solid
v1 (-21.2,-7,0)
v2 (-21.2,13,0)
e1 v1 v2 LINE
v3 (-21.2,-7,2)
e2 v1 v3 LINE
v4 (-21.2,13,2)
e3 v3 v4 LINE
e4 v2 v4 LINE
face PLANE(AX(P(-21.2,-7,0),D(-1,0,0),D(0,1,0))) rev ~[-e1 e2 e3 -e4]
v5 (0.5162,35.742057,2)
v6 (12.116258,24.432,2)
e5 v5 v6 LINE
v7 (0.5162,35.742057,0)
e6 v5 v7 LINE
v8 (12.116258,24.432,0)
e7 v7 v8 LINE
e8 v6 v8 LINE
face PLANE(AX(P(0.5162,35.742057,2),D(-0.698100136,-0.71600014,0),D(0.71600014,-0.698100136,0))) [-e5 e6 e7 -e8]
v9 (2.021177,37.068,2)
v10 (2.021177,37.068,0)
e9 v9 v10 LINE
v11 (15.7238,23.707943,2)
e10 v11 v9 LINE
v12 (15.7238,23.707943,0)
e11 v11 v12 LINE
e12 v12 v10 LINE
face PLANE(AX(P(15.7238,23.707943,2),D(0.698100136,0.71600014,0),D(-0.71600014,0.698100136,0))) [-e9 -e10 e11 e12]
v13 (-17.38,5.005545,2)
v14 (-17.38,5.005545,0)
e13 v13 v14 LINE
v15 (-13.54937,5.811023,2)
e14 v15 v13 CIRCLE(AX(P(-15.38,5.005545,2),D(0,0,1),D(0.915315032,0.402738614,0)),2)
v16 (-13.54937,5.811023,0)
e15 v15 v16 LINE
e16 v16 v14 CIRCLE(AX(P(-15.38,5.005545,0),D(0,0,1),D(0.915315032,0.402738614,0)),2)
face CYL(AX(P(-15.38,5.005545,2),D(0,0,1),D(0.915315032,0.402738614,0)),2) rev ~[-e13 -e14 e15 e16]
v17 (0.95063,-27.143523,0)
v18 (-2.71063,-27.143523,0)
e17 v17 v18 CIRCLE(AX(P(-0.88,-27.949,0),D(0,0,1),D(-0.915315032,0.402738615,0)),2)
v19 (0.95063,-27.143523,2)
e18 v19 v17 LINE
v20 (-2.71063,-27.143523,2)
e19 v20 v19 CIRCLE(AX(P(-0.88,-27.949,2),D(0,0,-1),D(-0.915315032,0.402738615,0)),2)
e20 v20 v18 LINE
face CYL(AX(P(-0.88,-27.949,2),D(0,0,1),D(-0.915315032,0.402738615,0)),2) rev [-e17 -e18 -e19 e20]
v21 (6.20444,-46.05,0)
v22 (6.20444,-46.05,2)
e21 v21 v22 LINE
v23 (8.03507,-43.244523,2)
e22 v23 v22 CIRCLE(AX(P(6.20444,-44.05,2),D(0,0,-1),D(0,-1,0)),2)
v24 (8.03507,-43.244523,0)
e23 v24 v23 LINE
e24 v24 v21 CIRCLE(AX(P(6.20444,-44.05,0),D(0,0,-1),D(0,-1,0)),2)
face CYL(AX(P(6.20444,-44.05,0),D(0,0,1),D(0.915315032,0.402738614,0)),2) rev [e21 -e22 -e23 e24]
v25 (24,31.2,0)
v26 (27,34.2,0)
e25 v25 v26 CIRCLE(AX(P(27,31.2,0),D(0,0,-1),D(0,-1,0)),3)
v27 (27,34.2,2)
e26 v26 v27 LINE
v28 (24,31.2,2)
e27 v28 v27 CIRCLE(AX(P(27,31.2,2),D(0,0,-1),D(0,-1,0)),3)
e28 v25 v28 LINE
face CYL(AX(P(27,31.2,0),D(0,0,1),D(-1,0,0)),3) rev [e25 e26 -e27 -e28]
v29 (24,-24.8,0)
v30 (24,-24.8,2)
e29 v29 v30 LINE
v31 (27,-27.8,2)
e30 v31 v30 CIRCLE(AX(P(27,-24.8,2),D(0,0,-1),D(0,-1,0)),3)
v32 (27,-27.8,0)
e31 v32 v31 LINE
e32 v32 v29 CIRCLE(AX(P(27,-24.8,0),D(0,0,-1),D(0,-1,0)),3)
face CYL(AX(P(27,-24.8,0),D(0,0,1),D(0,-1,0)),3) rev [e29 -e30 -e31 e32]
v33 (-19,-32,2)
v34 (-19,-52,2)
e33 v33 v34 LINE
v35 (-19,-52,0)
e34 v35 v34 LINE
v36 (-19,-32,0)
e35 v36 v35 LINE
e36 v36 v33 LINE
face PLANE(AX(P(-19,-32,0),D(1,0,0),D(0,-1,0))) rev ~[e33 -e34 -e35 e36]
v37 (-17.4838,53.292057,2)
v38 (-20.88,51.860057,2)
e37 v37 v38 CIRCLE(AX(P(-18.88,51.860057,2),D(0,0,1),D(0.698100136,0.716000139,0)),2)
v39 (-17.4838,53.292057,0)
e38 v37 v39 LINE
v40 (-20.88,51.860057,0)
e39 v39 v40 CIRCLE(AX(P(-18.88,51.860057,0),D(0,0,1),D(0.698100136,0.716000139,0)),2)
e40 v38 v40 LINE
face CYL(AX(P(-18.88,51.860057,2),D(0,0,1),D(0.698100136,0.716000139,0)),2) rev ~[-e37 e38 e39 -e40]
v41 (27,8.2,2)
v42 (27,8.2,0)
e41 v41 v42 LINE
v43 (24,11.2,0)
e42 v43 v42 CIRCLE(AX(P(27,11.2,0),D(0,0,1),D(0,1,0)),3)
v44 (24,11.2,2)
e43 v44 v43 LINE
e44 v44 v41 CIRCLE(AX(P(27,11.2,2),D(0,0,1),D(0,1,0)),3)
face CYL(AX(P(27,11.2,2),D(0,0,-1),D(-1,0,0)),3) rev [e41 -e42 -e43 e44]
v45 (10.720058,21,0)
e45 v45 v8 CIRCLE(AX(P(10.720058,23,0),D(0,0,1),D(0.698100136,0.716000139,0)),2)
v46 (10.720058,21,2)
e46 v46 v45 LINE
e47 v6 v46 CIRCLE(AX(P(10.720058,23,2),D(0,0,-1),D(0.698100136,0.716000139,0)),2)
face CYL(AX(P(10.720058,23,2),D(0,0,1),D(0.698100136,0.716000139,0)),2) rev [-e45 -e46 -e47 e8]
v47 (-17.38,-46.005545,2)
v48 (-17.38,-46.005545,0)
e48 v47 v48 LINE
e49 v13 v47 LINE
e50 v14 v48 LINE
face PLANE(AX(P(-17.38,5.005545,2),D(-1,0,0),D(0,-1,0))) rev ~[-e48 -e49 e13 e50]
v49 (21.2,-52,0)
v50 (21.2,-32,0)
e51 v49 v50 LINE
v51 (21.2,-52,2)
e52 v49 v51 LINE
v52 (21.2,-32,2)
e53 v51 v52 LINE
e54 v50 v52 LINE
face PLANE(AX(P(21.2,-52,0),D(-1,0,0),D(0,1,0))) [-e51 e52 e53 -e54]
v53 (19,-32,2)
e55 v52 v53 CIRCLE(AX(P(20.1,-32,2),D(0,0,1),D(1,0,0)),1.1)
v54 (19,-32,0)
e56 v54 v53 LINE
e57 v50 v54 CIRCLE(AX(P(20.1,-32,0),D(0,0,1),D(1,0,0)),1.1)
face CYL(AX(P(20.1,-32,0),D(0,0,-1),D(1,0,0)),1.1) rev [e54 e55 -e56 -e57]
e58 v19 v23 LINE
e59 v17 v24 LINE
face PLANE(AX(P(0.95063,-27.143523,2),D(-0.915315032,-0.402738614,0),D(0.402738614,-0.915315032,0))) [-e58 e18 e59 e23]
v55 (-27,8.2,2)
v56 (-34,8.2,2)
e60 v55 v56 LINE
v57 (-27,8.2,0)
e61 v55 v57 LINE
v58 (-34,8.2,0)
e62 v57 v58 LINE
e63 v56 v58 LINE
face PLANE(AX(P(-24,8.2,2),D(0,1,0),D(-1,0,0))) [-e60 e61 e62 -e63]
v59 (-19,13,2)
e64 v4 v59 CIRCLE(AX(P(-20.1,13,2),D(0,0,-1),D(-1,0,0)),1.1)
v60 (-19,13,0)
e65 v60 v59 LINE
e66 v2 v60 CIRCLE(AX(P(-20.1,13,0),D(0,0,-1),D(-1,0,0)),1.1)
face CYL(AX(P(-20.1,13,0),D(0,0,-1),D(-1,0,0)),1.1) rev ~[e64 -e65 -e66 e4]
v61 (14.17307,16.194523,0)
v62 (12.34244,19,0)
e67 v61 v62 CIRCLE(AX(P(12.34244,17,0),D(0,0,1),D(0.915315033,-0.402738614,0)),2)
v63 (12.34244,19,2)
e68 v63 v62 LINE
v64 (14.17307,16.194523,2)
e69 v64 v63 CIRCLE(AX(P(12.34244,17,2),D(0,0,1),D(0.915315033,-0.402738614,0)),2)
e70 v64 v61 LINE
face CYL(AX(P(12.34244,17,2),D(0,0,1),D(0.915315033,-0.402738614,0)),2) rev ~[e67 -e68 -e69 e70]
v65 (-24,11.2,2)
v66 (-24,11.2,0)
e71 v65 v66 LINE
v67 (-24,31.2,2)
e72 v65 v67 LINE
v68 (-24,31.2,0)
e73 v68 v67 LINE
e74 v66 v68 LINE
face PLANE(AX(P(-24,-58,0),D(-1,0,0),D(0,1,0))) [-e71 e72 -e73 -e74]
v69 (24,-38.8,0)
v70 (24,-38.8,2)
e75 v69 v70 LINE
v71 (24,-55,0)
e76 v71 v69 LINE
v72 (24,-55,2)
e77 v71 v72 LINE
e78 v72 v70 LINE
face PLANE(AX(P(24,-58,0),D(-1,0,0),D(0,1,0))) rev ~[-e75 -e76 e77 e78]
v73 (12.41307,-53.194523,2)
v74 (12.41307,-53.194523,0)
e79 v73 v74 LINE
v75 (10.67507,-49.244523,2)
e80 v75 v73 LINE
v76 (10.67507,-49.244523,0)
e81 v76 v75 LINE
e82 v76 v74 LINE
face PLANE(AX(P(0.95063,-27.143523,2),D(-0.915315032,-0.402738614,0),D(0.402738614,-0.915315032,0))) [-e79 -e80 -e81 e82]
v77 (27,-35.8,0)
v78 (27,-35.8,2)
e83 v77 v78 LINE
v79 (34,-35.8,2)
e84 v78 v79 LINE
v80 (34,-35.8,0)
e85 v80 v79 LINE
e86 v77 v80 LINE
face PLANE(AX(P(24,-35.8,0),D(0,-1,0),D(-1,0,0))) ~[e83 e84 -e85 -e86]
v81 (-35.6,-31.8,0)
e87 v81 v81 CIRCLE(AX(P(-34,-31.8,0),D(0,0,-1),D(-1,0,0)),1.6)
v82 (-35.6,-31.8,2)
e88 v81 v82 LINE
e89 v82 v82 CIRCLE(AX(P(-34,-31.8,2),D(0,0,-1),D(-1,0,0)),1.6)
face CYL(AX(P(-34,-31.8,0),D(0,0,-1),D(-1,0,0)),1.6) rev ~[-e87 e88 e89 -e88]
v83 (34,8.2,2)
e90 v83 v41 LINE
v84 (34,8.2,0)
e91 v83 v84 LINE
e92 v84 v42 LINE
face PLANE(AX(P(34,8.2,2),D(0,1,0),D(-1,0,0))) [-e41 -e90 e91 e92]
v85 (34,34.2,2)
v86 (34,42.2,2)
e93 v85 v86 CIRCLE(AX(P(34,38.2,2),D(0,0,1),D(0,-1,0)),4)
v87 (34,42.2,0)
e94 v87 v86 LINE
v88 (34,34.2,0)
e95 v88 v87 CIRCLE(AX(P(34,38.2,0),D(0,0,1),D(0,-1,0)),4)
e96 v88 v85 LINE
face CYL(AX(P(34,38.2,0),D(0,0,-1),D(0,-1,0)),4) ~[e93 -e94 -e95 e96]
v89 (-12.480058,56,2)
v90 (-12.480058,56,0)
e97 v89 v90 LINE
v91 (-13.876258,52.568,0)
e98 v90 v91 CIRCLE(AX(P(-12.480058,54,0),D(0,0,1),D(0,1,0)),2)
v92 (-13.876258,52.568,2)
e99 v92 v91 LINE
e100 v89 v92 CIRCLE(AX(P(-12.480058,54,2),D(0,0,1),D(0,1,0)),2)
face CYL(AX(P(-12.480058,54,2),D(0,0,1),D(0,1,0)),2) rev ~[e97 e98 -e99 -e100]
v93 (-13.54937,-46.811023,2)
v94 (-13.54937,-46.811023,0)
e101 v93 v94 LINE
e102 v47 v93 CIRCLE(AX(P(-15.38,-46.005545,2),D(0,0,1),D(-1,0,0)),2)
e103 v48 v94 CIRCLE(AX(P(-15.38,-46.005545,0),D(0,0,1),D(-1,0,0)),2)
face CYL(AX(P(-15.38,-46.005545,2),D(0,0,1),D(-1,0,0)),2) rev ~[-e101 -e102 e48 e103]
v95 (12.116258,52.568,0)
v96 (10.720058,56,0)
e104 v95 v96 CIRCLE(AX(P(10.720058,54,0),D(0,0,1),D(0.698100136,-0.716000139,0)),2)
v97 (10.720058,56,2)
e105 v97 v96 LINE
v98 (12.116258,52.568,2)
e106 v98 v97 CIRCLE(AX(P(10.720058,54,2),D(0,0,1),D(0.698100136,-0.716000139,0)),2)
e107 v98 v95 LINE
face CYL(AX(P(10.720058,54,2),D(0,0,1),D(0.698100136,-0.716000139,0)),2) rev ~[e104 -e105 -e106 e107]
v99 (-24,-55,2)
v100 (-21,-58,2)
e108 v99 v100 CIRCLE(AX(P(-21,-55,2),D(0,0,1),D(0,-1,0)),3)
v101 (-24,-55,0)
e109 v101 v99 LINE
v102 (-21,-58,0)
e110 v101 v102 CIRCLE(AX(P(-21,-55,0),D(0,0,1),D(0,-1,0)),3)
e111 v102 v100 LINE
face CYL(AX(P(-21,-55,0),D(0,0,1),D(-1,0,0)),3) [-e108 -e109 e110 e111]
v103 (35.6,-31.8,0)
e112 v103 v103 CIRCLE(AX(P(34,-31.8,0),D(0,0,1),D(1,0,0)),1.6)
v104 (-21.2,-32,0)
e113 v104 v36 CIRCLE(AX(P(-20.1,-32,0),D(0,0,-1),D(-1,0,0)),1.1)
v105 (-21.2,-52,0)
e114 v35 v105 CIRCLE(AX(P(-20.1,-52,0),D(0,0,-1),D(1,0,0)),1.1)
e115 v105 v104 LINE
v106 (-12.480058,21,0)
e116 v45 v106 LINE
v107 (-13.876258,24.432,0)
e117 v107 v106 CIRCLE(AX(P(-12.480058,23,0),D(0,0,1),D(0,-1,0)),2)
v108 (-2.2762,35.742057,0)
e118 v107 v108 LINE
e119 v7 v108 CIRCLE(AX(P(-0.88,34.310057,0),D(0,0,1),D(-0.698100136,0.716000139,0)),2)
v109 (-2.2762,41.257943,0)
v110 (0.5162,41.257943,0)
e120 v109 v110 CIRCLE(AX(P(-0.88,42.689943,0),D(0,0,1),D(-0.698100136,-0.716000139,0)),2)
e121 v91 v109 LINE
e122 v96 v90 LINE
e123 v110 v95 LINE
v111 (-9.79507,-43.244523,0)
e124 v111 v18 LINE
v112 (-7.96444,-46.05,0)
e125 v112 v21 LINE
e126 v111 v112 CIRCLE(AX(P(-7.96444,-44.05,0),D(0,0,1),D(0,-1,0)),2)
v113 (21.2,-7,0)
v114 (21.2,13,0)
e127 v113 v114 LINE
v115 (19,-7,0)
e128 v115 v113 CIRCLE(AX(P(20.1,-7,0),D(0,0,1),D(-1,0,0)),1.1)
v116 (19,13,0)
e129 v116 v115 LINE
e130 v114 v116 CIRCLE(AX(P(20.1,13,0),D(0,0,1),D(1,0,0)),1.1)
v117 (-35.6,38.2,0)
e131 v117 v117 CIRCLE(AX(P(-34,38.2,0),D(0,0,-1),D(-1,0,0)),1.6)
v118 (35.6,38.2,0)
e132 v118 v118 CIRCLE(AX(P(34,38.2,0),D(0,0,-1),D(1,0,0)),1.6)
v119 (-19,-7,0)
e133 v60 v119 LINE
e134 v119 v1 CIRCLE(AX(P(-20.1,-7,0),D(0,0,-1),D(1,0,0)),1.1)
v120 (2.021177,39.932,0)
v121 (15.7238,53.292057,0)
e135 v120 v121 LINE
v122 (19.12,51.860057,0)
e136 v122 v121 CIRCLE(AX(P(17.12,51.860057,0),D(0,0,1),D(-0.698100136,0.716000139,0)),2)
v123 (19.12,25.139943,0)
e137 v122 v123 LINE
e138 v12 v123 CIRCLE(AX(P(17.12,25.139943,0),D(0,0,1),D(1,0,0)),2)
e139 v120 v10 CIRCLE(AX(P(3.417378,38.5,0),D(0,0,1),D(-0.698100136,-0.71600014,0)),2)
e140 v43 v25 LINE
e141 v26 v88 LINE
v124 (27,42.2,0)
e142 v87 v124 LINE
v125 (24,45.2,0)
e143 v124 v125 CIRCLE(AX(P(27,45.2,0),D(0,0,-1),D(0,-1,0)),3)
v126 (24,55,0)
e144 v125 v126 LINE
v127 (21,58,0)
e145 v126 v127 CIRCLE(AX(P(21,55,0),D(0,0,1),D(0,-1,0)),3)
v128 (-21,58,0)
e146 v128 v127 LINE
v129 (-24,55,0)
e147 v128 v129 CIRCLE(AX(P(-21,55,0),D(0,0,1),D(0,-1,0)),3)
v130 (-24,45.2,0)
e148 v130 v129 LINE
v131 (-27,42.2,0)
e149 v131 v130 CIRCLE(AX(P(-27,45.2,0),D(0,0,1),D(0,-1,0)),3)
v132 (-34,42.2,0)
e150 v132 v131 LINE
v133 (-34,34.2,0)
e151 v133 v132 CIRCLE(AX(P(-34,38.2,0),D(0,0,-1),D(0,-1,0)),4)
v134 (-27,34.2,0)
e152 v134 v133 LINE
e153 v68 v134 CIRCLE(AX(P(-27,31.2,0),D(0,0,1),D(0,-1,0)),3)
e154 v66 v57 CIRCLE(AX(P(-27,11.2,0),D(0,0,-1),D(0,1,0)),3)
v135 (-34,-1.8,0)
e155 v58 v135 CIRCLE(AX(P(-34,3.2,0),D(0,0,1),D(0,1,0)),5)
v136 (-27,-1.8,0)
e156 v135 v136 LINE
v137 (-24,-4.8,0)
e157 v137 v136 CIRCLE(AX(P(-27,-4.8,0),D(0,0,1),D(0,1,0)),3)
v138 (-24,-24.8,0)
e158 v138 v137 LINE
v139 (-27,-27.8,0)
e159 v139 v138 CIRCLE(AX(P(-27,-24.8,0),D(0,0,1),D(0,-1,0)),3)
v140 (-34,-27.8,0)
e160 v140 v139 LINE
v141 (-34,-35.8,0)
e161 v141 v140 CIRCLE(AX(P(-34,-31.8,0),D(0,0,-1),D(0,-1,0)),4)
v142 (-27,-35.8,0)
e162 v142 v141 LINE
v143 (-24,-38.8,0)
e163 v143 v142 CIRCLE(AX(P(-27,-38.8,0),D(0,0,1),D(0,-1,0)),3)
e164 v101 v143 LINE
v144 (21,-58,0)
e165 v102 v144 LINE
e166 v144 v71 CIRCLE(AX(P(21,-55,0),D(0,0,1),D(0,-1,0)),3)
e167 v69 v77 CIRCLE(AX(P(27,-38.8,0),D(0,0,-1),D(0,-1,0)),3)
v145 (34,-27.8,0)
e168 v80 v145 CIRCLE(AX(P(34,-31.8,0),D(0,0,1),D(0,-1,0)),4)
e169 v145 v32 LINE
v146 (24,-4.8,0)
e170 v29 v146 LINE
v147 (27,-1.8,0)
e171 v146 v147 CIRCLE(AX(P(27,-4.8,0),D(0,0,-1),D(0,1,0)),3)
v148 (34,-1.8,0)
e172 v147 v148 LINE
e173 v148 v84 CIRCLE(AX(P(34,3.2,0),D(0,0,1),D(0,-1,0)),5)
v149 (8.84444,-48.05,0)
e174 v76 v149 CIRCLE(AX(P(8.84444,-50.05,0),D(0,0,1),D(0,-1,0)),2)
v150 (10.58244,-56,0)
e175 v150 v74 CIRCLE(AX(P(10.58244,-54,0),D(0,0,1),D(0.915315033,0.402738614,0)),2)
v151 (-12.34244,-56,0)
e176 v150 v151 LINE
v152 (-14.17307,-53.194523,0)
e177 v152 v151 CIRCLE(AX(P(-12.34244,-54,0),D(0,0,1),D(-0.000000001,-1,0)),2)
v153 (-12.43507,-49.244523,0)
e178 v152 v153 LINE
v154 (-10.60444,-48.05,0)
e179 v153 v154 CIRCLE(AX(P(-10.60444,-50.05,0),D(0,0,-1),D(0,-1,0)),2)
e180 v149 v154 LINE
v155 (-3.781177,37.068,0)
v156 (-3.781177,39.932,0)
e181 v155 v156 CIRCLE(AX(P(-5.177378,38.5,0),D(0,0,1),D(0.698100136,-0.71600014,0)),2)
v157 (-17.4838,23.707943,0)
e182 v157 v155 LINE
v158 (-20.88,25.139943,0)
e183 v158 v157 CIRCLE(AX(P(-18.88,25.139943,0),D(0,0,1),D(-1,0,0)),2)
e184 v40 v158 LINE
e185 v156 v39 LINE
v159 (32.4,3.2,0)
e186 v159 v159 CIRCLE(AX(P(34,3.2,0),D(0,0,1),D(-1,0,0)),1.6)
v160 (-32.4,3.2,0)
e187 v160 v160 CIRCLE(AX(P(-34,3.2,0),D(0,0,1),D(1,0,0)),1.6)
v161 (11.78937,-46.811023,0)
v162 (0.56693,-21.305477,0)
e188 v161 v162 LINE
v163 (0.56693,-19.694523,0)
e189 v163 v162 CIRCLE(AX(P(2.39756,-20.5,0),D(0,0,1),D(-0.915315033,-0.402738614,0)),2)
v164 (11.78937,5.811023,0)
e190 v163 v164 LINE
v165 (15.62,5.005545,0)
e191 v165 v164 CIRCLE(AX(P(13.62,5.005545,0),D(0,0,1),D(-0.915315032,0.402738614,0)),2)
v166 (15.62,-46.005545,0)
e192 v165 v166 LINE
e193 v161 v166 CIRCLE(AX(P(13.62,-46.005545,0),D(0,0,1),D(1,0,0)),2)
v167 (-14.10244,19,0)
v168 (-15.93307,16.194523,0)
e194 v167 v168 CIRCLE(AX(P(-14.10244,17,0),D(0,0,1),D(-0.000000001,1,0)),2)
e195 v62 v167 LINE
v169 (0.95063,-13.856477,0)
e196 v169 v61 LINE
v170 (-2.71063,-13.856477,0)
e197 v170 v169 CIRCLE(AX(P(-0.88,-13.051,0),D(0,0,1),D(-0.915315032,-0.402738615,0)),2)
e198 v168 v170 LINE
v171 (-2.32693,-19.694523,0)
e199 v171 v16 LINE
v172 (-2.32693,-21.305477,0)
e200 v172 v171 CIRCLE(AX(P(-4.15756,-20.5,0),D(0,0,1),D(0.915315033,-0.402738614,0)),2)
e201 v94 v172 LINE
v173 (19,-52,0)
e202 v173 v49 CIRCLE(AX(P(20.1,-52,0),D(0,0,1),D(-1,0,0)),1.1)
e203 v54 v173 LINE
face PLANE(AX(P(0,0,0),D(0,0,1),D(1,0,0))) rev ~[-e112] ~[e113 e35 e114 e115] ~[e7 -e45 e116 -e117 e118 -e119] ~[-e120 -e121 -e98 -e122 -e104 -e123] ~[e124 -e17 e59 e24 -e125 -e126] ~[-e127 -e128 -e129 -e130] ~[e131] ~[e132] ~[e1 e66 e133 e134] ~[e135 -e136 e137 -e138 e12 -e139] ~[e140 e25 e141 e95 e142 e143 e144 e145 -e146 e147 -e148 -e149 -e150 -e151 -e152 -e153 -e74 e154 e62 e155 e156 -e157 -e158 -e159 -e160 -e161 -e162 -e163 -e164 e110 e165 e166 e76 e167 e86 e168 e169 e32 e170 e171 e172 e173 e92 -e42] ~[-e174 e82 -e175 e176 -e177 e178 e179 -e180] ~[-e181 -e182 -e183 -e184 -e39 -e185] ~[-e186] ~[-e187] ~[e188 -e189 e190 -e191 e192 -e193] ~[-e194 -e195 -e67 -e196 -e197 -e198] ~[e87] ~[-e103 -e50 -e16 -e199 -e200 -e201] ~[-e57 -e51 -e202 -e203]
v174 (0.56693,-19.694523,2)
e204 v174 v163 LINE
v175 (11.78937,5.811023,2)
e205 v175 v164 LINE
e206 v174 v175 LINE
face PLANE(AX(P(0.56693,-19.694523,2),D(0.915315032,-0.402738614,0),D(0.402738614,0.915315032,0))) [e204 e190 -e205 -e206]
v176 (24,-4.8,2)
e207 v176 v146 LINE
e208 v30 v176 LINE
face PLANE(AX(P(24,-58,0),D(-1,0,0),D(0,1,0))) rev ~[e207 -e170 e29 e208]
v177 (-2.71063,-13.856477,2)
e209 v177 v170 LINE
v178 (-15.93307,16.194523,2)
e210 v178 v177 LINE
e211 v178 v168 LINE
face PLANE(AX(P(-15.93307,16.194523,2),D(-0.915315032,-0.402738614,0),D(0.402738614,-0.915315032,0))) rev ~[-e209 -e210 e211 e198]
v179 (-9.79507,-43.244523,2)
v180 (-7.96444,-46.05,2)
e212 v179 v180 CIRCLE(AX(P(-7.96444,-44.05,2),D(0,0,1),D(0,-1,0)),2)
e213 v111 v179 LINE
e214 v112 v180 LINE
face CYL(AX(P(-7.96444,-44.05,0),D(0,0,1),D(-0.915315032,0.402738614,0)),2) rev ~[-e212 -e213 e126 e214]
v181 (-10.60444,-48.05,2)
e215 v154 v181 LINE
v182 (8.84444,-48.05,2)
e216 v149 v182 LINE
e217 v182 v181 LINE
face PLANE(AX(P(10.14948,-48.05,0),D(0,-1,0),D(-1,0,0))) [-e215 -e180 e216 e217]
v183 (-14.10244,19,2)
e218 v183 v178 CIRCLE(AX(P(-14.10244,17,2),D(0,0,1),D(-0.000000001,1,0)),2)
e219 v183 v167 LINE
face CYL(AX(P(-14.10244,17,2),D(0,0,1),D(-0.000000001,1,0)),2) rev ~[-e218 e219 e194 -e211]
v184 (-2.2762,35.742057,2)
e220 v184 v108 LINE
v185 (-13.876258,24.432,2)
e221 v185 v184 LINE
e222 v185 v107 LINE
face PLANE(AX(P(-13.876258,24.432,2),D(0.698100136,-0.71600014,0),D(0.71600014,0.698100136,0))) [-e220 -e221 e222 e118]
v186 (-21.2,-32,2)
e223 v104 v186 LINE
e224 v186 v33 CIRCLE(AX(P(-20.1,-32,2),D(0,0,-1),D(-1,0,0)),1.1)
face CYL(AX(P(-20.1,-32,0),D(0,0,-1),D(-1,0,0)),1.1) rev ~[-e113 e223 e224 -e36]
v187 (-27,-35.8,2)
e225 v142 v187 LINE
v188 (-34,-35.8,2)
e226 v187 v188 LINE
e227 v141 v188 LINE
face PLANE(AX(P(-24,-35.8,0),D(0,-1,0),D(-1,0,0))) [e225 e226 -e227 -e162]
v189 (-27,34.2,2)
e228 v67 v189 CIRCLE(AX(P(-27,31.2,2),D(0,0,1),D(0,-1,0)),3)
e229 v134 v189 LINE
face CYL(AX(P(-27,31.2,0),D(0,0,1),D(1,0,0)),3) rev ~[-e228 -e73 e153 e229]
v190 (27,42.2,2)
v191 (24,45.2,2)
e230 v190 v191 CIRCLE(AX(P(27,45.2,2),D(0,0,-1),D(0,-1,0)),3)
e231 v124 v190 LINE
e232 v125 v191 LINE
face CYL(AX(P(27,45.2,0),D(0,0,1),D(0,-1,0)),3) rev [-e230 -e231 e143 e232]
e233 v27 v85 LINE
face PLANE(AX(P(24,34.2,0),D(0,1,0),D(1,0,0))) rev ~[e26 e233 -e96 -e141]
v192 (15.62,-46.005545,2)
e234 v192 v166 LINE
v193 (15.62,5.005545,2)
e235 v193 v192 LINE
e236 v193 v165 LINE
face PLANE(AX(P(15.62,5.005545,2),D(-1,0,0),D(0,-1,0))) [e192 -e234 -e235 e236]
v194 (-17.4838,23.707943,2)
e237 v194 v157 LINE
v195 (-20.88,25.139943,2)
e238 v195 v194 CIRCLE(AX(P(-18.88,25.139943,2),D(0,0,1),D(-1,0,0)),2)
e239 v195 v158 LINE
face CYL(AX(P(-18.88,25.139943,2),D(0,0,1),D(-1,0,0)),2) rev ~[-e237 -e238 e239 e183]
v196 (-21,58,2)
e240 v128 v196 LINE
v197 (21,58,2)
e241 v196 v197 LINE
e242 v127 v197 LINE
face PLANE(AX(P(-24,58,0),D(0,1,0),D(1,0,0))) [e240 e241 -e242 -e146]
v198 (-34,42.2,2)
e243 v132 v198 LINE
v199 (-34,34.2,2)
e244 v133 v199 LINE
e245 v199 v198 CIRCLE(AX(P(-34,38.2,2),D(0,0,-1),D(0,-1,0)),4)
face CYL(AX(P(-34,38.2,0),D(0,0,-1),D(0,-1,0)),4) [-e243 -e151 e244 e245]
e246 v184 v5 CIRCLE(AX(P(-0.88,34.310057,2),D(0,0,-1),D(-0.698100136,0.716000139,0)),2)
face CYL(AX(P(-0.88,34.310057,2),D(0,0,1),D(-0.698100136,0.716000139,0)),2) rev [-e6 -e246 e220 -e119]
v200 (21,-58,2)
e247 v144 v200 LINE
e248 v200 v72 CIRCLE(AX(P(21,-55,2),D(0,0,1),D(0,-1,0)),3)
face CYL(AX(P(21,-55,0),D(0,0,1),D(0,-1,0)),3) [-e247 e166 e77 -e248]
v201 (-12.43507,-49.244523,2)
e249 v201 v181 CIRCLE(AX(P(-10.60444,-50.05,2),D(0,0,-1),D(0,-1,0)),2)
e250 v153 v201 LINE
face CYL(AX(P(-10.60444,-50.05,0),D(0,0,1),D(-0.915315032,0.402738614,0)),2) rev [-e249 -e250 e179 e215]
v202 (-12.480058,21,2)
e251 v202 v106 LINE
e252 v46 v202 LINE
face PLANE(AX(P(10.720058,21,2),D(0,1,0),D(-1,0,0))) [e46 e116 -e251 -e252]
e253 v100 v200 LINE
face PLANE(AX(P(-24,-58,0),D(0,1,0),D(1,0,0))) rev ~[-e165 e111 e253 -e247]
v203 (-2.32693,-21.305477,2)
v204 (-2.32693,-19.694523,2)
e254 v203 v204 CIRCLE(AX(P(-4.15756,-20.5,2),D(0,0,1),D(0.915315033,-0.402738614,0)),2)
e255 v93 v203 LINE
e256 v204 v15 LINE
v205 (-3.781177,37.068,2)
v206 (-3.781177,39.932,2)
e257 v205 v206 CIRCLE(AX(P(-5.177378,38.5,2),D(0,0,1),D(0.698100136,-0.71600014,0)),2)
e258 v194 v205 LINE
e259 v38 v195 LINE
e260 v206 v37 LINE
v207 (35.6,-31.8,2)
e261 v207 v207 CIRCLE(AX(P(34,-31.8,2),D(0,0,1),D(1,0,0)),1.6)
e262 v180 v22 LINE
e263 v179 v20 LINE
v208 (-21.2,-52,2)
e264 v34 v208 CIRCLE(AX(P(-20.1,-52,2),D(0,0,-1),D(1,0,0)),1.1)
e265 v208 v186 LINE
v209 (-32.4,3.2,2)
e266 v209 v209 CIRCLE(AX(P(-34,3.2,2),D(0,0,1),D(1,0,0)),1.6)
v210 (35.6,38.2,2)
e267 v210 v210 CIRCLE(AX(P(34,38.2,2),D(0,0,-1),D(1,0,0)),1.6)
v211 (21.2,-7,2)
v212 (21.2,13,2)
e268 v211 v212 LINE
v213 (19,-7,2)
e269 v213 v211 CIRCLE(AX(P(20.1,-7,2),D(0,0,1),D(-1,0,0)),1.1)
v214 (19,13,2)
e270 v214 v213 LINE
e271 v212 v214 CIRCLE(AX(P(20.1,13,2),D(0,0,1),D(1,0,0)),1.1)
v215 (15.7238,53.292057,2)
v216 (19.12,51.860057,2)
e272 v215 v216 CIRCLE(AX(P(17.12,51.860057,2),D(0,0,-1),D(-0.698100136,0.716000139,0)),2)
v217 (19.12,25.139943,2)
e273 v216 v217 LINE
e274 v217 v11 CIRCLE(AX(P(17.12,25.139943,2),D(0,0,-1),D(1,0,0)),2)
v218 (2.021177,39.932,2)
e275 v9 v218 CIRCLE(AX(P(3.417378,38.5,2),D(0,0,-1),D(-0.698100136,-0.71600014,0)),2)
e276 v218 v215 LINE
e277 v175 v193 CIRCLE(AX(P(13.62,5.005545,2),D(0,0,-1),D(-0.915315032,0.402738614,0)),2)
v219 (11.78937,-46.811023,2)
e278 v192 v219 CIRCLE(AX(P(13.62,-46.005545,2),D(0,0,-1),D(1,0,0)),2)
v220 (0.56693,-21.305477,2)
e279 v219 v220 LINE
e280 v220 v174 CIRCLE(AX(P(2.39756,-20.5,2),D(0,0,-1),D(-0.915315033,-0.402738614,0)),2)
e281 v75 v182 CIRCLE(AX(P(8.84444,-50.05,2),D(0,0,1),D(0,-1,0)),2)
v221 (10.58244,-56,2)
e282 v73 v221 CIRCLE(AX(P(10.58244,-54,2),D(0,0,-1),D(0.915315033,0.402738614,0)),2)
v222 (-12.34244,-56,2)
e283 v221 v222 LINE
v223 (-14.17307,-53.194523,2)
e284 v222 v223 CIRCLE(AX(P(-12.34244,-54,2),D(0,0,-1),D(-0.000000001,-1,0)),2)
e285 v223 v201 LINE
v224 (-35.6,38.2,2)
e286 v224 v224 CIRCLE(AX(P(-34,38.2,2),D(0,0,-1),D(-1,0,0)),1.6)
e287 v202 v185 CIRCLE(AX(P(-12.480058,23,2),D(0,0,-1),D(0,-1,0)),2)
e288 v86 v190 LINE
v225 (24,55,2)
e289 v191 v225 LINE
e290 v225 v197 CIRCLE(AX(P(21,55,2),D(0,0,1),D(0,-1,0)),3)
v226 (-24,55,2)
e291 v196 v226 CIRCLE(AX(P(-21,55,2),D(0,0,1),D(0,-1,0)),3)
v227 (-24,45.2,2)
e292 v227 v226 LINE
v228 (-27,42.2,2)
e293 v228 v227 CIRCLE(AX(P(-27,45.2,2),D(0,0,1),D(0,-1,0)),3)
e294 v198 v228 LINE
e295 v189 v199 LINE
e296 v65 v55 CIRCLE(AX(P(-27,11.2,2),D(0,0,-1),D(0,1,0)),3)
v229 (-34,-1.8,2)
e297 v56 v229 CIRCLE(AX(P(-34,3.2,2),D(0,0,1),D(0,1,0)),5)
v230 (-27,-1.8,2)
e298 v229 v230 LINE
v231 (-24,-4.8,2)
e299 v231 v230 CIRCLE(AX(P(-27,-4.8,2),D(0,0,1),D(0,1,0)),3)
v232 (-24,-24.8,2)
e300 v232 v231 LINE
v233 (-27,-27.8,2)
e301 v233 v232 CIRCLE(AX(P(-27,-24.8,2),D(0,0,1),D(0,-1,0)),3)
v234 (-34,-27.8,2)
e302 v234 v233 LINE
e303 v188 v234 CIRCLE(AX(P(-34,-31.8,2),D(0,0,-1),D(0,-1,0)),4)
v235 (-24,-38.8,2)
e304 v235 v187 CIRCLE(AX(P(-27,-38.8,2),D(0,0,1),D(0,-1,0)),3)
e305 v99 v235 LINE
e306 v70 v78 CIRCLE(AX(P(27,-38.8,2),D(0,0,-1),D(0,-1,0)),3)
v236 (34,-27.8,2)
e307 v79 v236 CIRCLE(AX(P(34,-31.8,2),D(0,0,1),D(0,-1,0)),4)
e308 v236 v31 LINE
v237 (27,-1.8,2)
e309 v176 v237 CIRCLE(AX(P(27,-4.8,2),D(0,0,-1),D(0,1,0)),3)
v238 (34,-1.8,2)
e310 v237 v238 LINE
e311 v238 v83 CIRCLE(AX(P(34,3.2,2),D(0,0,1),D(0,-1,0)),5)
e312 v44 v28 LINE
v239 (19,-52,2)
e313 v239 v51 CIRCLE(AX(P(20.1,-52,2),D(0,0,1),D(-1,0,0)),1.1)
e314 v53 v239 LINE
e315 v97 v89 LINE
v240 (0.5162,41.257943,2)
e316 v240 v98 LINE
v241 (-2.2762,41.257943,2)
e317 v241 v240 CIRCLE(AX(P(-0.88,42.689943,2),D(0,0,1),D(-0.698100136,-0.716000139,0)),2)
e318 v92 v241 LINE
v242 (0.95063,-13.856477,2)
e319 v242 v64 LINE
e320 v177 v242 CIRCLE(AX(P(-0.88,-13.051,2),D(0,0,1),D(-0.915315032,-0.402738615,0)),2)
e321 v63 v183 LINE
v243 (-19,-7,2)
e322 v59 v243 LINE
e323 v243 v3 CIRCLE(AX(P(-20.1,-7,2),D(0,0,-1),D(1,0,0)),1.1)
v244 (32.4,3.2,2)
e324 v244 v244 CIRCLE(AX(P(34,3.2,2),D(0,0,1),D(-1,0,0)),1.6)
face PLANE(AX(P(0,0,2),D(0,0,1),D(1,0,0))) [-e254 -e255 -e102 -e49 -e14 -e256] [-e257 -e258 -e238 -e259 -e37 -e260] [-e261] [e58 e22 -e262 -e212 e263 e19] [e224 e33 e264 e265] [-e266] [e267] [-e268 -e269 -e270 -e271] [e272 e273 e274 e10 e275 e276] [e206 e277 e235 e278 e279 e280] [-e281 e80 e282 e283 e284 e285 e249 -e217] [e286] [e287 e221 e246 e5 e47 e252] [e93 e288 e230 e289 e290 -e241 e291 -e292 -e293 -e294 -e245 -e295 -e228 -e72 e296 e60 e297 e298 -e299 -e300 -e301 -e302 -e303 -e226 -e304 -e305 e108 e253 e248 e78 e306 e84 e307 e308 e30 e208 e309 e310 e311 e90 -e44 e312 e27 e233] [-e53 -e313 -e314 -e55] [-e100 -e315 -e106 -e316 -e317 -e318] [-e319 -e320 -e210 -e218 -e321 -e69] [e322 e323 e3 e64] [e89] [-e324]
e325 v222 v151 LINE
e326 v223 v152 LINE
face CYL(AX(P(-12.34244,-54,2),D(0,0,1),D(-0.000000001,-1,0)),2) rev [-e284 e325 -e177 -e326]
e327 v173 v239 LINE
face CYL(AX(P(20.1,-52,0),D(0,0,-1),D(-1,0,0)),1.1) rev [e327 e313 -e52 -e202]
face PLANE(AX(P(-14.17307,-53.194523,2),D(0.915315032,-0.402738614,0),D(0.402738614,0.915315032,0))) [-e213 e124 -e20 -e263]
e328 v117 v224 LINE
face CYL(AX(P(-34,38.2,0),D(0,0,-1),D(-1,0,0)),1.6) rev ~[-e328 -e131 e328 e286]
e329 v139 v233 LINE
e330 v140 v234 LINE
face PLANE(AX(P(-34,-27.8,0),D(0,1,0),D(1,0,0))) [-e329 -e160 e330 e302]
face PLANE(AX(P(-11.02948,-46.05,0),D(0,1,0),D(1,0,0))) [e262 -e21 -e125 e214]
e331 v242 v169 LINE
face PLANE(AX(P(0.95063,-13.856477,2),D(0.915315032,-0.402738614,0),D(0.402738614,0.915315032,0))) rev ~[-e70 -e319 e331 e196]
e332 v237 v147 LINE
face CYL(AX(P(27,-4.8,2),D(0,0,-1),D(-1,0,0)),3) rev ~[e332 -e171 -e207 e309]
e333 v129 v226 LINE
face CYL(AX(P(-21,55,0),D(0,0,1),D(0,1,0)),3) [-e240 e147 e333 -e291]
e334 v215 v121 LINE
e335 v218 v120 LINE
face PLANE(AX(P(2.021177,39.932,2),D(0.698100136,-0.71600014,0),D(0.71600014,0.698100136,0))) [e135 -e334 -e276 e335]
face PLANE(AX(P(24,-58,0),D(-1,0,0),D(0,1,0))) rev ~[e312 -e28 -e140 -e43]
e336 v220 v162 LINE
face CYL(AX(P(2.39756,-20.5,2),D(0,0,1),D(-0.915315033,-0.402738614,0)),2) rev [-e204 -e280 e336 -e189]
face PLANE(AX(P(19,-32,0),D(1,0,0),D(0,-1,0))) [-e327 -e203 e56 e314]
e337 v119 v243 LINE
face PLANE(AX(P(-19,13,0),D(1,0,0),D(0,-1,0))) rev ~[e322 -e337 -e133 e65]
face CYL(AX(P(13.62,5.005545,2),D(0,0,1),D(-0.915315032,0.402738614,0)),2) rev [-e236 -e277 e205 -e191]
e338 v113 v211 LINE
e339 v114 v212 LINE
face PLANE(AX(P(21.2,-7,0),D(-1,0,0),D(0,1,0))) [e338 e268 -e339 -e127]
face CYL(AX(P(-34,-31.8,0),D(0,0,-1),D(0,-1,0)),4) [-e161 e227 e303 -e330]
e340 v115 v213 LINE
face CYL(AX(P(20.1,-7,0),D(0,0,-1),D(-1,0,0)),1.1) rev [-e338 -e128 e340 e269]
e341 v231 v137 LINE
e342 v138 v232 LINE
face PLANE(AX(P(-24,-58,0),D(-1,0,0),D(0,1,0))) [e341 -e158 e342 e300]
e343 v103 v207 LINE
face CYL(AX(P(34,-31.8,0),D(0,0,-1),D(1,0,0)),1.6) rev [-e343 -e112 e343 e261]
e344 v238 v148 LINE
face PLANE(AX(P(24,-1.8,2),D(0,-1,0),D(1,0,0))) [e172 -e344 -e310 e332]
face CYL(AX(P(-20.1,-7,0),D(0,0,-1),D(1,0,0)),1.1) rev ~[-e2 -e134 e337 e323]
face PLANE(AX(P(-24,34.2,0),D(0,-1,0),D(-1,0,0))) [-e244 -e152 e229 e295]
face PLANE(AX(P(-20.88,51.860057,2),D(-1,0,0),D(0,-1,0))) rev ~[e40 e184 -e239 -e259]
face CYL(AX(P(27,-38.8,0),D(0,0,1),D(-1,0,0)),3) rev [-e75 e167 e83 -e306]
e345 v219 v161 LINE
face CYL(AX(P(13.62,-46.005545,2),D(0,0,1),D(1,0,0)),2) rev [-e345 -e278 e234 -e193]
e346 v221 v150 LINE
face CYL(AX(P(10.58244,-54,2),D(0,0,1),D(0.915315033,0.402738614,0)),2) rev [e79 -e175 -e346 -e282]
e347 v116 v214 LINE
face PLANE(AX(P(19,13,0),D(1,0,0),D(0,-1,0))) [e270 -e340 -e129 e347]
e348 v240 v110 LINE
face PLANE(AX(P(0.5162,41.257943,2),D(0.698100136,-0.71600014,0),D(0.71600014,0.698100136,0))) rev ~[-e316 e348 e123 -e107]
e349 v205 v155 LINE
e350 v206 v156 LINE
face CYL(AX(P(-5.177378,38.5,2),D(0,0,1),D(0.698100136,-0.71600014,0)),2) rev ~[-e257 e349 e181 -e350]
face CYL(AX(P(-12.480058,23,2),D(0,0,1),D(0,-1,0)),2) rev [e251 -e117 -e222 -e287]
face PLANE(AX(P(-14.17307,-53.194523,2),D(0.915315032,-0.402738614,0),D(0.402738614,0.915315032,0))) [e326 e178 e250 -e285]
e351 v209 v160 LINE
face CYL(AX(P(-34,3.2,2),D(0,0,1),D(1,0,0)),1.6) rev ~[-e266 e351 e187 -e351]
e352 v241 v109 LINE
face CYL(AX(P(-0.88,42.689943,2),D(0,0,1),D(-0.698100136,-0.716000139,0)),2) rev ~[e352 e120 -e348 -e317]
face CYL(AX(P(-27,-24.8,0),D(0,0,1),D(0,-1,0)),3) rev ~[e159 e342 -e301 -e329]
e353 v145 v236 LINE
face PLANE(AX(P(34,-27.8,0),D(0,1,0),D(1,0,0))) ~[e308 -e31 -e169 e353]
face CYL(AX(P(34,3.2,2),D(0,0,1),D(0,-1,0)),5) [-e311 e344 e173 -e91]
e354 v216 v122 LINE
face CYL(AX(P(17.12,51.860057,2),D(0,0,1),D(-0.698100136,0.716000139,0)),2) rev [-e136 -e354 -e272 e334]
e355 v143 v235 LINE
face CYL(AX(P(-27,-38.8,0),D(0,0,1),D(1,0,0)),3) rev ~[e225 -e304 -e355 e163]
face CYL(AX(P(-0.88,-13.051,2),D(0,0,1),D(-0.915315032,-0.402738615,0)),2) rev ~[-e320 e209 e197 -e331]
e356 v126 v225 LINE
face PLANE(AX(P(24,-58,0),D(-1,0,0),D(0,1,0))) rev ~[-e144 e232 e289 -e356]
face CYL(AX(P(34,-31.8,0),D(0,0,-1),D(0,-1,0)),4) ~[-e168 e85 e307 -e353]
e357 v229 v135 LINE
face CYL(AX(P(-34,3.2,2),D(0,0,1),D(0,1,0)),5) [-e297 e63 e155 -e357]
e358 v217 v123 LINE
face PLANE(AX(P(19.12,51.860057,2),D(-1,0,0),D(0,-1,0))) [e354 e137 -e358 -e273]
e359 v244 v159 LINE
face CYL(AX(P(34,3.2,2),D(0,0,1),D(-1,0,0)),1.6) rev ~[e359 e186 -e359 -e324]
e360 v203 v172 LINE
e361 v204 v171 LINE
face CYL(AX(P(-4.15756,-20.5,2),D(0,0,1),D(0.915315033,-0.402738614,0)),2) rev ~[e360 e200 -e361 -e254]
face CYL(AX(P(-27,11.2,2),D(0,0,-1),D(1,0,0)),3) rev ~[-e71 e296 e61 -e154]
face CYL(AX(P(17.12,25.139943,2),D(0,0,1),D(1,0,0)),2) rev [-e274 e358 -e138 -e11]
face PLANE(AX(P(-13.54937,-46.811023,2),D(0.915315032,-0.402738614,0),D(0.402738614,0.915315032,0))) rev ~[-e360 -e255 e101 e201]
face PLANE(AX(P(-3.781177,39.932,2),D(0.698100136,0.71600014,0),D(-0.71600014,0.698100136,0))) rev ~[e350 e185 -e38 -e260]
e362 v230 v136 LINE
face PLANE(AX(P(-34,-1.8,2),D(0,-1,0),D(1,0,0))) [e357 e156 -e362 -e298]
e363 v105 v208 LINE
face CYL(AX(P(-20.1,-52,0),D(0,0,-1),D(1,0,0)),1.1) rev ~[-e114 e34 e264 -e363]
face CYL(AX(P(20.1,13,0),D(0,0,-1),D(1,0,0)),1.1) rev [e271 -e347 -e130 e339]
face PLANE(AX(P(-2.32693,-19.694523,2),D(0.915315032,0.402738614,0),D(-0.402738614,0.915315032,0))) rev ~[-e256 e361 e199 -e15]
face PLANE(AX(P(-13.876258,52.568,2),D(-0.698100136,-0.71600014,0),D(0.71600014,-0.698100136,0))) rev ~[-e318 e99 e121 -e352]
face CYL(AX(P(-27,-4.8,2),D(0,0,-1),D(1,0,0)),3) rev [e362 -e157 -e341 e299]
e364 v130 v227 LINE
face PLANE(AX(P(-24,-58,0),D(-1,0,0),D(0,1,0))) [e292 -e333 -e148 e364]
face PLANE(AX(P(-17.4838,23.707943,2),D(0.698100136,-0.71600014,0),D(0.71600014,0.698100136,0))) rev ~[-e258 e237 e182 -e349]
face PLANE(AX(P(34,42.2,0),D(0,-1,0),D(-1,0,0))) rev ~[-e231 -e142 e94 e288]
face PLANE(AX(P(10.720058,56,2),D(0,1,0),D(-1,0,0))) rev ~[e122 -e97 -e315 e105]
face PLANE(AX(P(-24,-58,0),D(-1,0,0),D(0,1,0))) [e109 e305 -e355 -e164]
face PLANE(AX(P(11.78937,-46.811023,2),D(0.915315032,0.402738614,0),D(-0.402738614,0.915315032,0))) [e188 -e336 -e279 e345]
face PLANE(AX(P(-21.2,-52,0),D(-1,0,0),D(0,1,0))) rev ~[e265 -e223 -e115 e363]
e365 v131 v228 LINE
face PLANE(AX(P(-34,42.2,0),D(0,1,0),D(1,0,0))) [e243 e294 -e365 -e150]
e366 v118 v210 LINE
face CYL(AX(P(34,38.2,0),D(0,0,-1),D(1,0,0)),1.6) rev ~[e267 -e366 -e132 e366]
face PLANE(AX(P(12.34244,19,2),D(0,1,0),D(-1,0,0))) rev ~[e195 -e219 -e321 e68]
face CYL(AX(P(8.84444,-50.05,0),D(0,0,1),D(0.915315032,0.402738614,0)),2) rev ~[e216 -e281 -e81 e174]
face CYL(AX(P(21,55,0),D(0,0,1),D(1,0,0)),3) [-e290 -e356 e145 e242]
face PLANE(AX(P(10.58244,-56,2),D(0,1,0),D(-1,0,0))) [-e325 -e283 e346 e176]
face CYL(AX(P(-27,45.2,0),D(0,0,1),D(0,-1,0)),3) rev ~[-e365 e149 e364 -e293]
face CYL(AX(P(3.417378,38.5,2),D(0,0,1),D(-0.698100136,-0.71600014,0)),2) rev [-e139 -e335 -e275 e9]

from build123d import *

# Parameters (mm, degrees)
SKETCH_1_W               = 48
SKETCH_1_H               = 116
EXTRUDE_1_DEPTH          = 2
CUT_EXTRUDE_1_DEPTH      = 63.801273872
EXTRUDE_4_DEPTH          = 2
FILLET_2_R               = 2
SKETCH_7_R               = 1.6
EXTRUDE_5_DEPTH          = 2
PATTERN_LINEAR_1_COUNT   = 2
PATTERN_LINEAR_1_PITCH   = 70
MIRROR_1_COPY_1_SKETCH_R = 1.6
MIRROR_1_COPY_1_DEPTH    = 2
FILLET_4_R               = 3
FILLET_5_R               = 3
SKETCH_8_R               = 1.6
EXTRUDE_6_DEPTH          = 2
FILLET_6_R               = 3


with BuildPart() as part:
    # 草图1 → 凸台-拉伸1 (new body)
    with BuildSketch(Plane.XY):
        Rectangle(SKETCH_1_W, SKETCH_1_H)
        with BuildLine():
            Line((-19, -32), (-19, -52))
            ThreePointArc((-19, -52), (-20.1, -53.1), (-21.2, -52))
            Line((-21.2, -52), (-21.2, -32))
            ThreePointArc((-21.2, -32), (-20.1, -30.9), (-19, -32))
        make_face(mode=Mode.SUBTRACT)
        with BuildLine():
            Line((19, -32), (19, -52))
            ThreePointArc((19, -52), (20.1, -53.1), (21.2, -52))
            Line((21.2, -52), (21.2, -32))
            ThreePointArc((21.2, -32), (20.1, -30.9), (19, -32))
        make_face(mode=Mode.SUBTRACT)
        with BuildLine():
            Line((-19, 13), (-19, -7))
            ThreePointArc((-19, -7), (-20.1, -8.1), (-21.2, -7))
            Line((-21.2, -7), (-21.2, 13))
            ThreePointArc((-21.2, 13), (-20.1, 14.1), (-19, 13))
        make_face(mode=Mode.SUBTRACT)
        with BuildLine():
            Line((19, 13), (19, -7))
            ThreePointArc((19, -7), (20.1, -8.1), (21.2, -7))
            Line((21.2, -7), (21.2, 13))
            ThreePointArc((21.2, 13), (20.1, 14.1), (19, 13))
        make_face(mode=Mode.SUBTRACT)
    extrude(amount=EXTRUDE_1_DEPTH)

    # 草图3 → 切除-拉伸1 (cut, through all)
    with BuildSketch(Plane.XY.offset(2)):
        with BuildLine():
            Line((12.342439932, 19), (-14.102439932, 19))
            ThreePointArc((-14.102439932, 19), (-15.77739582, 18.092942254), (-15.933069997, 16.194522771))
            Line((-15.933069997, 16.194522771), (-2.710630065, -13.856477074))
            ThreePointArc((-2.710630065, -13.856477074), (-0.88, -15.050999845), (0.950630065, -13.856477074))
            Line((0.950630065, -13.856477074), (14.173069997, 16.194522771))
            ThreePointArc((14.173069997, 16.194522771), (14.01739582, 18.092942254), (12.342439932, 19))
        make_face()
        with BuildLine():
            Line((15.62, 5.0055453), (15.62, -46.0055453))
            ThreePointArc((15.62, -46.0055453), (14.031545787, -47.962744846), (11.789369935, -46.811022528))
            Line((11.789369935, -46.811022528), (0.566930003, -21.305477229))
            ThreePointArc((0.566930003, -21.305477229), (0.397560068, -20.5), (0.566930003, -19.694522771))
            Line((0.566930003, -19.694522771), (11.789369935, 5.811022528))
            ThreePointArc((11.789369935, 5.811022528), (14.031545787, 6.962744846), (15.62, 5.0055453))
        make_face()
        with BuildLine():
            Line((10.582439932, -56), (-12.342439932, -56))
            ThreePointArc((-12.342439932, -56), (-14.01739582, -55.092942254), (-14.173069997, -53.194522771))
            Line((-14.173069997, -53.194522771), (-2.710630065, -27.143522926))
            ThreePointArc((-2.710630065, -27.143522926), (-0.88, -25.949000155), (0.950630065, -27.143522926))
            Line((0.950630065, -27.143522926), (12.413069997, -53.194522771))
            ThreePointArc((12.413069997, -53.194522771), (12.25739582, -55.092942254), (10.582439932, -56))
        make_face()
        with BuildLine():
            Line((-17.38, 5.0055453), (-17.38, -46.0055453))
            ThreePointArc((-17.38, -46.0055453), (-15.791545787, -47.962744846), (-13.549369935, -46.811022528))
            Line((-13.549369935, -46.811022528), (-2.326930003, -21.305477229))
            ThreePointArc((-2.326930003, -21.305477229), (-2.157560068, -20.5), (-2.326930003, -19.694522771))
            Line((-2.326930003, -19.694522771), (-13.549369935, 5.811022528))
            ThreePointArc((-13.549369935, 5.811022528), (-15.791545787, 6.962744846), (-17.38, 5.0055453))
        make_face()
        with BuildLine():
            Line((10.720058136, 56), (-12.480058136, 56))
            ThreePointArc((-12.480058136, 56), (-14.332624, 54.753657562), (-13.876258409, 52.567999721))
            Line((-13.876258409, 52.567999721), (-2.276200272, 41.257943038))
            ThreePointArc((-2.276200272, 41.257943038), (-0.88, 40.689943317), (0.516200272, 41.257943038))
            Line((0.516200272, 41.257943038), (12.116258409, 52.567999721))
            ThreePointArc((12.116258409, 52.567999721), (12.572624, 54.753657562), (10.720058136, 56))
        make_face()
        with BuildLine():
            Line((19.12, 51.860056683), (19.12, 25.139943317))
            ThreePointArc((19.12, 25.139943317), (17.897045512, 23.297065059), (15.723799728, 23.707943038))
            Line((15.723799728, 23.707943038), (2.021177489, 37.067999721))
            ThreePointArc((2.021177489, 37.067999721), (1.417377761, 38.5), (2.021177489, 39.932000279))
            Line((2.021177489, 39.932000279), (15.723799728, 53.292056962))
            ThreePointArc((15.723799728, 53.292056962), (17.897045512, 53.702934941), (19.12, 51.860056683))
        make_face()
        with BuildLine():
            Line((10.720058136, 21), (-12.480058136, 21))
            ThreePointArc((-12.480058136, 21), (-14.332624, 22.246342438), (-13.876258409, 24.432000279))
            Line((-13.876258409, 24.432000279), (-2.276200272, 35.742056962))
            ThreePointArc((-2.276200272, 35.742056962), (-0.88, 36.310056683), (0.516200272, 35.742056962))
            Line((0.516200272, 35.742056962), (12.116258409, 24.432000279))
            ThreePointArc((12.116258409, 24.432000279), (12.572624, 22.246342438), (10.720058136, 21))
        make_face()
        with BuildLine():
            Line((-20.88, 51.860056683), (-20.88, 25.139943317))
            ThreePointArc((-20.88, 25.139943317), (-19.657045512, 23.297065059), (-17.483799728, 23.707943038))
            Line((-17.483799728, 23.707943038), (-3.781177489, 37.067999721))
            ThreePointArc((-3.781177489, 37.067999721), (-3.177377761, 38.5), (-3.781177489, 39.932000279))
            Line((-3.781177489, 39.932000279), (-17.483799728, 53.292056962))
            ThreePointArc((-17.483799728, 53.292056962), (-19.657045512, 53.702934941), (-20.88, 51.860056683))
        make_face()
    extrude(amount=-CUT_EXTRUDE_1_DEPTH, mode=Mode.SUBTRACT)

    # 草图6 → 凸台-拉伸4 (add)
    with BuildSketch(Plane(origin=(0, 0, 0), x_dir=(-1, 0, 0), z_dir=(0, 0, -1))):
        Polygon((-10.149479977, -48.05), (11.909479977, -48.05), (11.029479977, -46.05), (-9.269479977, -46.05), align=None)
    extrude(amount=-EXTRUDE_4_DEPTH)

    # 圆角2
    fillet_2_edges = [part.edges().sort_by_distance(p)[0] for p in [
        (10.149479977, -48.05, 1),
        (9.269479977, -46.05, 1),
        (-11.029479977, -46.05, 1),
        (-11.909479977, -48.05, 1),
    ]]
    fillet(fillet_2_edges, radius=FILLET_2_R)

    # 草图7 → 凸台-拉伸5 (add)
    with BuildSketch(Plane(origin=(0, 0, 0), x_dir=(-1, 0, 0), z_dir=(0, 0, -1))):
        with BuildLine():
            Line((24, -35.8), (34, -35.8))
            ThreePointArc((34, -35.8), (38, -31.8), (34, -27.8))
            Line((34, -27.8), (24, -27.8))
            Line((24, -27.8), (24, -35.8))
        make_face()
        with Locations((34, -31.8)):
            Circle(SKETCH_7_R, mode=Mode.SUBTRACT)
    extrude_5 = extrude(amount=-EXTRUDE_5_DEPTH)

    # 阵列(线性)1: 凸台-拉伸5 ×2
    with Locations(*[(0, i * PATTERN_LINEAR_1_PITCH, 0) for i in range(1, PATTERN_LINEAR_1_COUNT)]):
        add(extrude_5)

    # 镜向1: 凸台-拉伸5 across plane
    add(extrude_5.mirror(Plane(origin=(0, 0, 0), x_dir=(0, 0, 1), z_dir=(1, 0, 0))))

    # 镜向1 copy 1 sketch → 镜向1 copy 1 (add)
    with BuildSketch(Plane(origin=(0, 70, 0), x_dir=(1, 0, 0), z_dir=(0, 0, -1))):
        with BuildLine():
            Line((24, 35.8), (34, 35.8))
            ThreePointArc((34, 35.8), (38, 31.8), (34, 27.8))
            Line((34, 27.8), (24, 27.8))
            Line((24, 27.8), (24, 35.8))
        make_face()
        with Locations((34, 31.8)):
            Circle(MIRROR_1_COPY_1_SKETCH_R, mode=Mode.SUBTRACT)
    extrude(amount=-MIRROR_1_COPY_1_DEPTH)

    # 圆角4
    fillet_4_edges = [part.edges().sort_by_distance(p)[0] for p in [
        (-24, 58, 1),
        (24, 58, 1),
        (24, -58, 1),
        (-24, -58, 1),
    ]]
    fillet(fillet_4_edges, radius=FILLET_4_R)

    # 圆角5
    fillet_5_edges = [part.edges().sort_by_distance(p)[0] for p in [
        (-24, -35.8, 1),
        (-24, -27.8, 1),
        (-24, 34.2, 1),
        (-24, 42.2, 1),
        (24, -27.8, 1),
        (24, -35.8, 1),
        (24, 42.2, 1),
        (24, 34.2, 1),
    ]]
    fillet(fillet_5_edges, radius=FILLET_5_R)

    # 草图8 → 凸台-拉伸6 (add)
    # profile 1 of 2: a face of its own
    with BuildSketch(Plane.XY.offset(2)):
        with BuildLine():
            Line((-34, -1.8), (-24, -1.8))
            Line((-24, -1.8), (-24, 8.2))
            Line((-24, 8.2), (-34, 8.2))
            ThreePointArc((-34, 8.2), (-39, 3.2), (-34, -1.8))
        make_face()
        with Locations((-34, 3.2)):
            Circle(SKETCH_8_R, mode=Mode.SUBTRACT)
    # profile 2 of 2: a face of its own
    with BuildSketch(Plane.XY.offset(2)):
        with BuildLine():
            Line((24, 8.2), (24, -1.8))
            Line((24, -1.8), (34, -1.8))
            ThreePointArc((34, -1.8), (39, 3.2), (34, 8.2))
            Line((34, 8.2), (24, 8.2))
        make_face()
        with Locations(Location((34, 3.2, 0), (0, 0, 180))):
            Circle(SKETCH_8_R, mode=Mode.SUBTRACT)
    extrude(amount=-EXTRUDE_6_DEPTH)

    # 圆角6
    fillet_6_edges = [part.edges().sort_by_distance(p)[0] for p in [
        (-24, 8.2, 1),
        (-24, -1.8, 1),
        (24, -1.8, 1),
        (24, 8.2, 1),
    ]]
    fillet(fillet_6_edges, radius=FILLET_6_R)


solid = part.part
